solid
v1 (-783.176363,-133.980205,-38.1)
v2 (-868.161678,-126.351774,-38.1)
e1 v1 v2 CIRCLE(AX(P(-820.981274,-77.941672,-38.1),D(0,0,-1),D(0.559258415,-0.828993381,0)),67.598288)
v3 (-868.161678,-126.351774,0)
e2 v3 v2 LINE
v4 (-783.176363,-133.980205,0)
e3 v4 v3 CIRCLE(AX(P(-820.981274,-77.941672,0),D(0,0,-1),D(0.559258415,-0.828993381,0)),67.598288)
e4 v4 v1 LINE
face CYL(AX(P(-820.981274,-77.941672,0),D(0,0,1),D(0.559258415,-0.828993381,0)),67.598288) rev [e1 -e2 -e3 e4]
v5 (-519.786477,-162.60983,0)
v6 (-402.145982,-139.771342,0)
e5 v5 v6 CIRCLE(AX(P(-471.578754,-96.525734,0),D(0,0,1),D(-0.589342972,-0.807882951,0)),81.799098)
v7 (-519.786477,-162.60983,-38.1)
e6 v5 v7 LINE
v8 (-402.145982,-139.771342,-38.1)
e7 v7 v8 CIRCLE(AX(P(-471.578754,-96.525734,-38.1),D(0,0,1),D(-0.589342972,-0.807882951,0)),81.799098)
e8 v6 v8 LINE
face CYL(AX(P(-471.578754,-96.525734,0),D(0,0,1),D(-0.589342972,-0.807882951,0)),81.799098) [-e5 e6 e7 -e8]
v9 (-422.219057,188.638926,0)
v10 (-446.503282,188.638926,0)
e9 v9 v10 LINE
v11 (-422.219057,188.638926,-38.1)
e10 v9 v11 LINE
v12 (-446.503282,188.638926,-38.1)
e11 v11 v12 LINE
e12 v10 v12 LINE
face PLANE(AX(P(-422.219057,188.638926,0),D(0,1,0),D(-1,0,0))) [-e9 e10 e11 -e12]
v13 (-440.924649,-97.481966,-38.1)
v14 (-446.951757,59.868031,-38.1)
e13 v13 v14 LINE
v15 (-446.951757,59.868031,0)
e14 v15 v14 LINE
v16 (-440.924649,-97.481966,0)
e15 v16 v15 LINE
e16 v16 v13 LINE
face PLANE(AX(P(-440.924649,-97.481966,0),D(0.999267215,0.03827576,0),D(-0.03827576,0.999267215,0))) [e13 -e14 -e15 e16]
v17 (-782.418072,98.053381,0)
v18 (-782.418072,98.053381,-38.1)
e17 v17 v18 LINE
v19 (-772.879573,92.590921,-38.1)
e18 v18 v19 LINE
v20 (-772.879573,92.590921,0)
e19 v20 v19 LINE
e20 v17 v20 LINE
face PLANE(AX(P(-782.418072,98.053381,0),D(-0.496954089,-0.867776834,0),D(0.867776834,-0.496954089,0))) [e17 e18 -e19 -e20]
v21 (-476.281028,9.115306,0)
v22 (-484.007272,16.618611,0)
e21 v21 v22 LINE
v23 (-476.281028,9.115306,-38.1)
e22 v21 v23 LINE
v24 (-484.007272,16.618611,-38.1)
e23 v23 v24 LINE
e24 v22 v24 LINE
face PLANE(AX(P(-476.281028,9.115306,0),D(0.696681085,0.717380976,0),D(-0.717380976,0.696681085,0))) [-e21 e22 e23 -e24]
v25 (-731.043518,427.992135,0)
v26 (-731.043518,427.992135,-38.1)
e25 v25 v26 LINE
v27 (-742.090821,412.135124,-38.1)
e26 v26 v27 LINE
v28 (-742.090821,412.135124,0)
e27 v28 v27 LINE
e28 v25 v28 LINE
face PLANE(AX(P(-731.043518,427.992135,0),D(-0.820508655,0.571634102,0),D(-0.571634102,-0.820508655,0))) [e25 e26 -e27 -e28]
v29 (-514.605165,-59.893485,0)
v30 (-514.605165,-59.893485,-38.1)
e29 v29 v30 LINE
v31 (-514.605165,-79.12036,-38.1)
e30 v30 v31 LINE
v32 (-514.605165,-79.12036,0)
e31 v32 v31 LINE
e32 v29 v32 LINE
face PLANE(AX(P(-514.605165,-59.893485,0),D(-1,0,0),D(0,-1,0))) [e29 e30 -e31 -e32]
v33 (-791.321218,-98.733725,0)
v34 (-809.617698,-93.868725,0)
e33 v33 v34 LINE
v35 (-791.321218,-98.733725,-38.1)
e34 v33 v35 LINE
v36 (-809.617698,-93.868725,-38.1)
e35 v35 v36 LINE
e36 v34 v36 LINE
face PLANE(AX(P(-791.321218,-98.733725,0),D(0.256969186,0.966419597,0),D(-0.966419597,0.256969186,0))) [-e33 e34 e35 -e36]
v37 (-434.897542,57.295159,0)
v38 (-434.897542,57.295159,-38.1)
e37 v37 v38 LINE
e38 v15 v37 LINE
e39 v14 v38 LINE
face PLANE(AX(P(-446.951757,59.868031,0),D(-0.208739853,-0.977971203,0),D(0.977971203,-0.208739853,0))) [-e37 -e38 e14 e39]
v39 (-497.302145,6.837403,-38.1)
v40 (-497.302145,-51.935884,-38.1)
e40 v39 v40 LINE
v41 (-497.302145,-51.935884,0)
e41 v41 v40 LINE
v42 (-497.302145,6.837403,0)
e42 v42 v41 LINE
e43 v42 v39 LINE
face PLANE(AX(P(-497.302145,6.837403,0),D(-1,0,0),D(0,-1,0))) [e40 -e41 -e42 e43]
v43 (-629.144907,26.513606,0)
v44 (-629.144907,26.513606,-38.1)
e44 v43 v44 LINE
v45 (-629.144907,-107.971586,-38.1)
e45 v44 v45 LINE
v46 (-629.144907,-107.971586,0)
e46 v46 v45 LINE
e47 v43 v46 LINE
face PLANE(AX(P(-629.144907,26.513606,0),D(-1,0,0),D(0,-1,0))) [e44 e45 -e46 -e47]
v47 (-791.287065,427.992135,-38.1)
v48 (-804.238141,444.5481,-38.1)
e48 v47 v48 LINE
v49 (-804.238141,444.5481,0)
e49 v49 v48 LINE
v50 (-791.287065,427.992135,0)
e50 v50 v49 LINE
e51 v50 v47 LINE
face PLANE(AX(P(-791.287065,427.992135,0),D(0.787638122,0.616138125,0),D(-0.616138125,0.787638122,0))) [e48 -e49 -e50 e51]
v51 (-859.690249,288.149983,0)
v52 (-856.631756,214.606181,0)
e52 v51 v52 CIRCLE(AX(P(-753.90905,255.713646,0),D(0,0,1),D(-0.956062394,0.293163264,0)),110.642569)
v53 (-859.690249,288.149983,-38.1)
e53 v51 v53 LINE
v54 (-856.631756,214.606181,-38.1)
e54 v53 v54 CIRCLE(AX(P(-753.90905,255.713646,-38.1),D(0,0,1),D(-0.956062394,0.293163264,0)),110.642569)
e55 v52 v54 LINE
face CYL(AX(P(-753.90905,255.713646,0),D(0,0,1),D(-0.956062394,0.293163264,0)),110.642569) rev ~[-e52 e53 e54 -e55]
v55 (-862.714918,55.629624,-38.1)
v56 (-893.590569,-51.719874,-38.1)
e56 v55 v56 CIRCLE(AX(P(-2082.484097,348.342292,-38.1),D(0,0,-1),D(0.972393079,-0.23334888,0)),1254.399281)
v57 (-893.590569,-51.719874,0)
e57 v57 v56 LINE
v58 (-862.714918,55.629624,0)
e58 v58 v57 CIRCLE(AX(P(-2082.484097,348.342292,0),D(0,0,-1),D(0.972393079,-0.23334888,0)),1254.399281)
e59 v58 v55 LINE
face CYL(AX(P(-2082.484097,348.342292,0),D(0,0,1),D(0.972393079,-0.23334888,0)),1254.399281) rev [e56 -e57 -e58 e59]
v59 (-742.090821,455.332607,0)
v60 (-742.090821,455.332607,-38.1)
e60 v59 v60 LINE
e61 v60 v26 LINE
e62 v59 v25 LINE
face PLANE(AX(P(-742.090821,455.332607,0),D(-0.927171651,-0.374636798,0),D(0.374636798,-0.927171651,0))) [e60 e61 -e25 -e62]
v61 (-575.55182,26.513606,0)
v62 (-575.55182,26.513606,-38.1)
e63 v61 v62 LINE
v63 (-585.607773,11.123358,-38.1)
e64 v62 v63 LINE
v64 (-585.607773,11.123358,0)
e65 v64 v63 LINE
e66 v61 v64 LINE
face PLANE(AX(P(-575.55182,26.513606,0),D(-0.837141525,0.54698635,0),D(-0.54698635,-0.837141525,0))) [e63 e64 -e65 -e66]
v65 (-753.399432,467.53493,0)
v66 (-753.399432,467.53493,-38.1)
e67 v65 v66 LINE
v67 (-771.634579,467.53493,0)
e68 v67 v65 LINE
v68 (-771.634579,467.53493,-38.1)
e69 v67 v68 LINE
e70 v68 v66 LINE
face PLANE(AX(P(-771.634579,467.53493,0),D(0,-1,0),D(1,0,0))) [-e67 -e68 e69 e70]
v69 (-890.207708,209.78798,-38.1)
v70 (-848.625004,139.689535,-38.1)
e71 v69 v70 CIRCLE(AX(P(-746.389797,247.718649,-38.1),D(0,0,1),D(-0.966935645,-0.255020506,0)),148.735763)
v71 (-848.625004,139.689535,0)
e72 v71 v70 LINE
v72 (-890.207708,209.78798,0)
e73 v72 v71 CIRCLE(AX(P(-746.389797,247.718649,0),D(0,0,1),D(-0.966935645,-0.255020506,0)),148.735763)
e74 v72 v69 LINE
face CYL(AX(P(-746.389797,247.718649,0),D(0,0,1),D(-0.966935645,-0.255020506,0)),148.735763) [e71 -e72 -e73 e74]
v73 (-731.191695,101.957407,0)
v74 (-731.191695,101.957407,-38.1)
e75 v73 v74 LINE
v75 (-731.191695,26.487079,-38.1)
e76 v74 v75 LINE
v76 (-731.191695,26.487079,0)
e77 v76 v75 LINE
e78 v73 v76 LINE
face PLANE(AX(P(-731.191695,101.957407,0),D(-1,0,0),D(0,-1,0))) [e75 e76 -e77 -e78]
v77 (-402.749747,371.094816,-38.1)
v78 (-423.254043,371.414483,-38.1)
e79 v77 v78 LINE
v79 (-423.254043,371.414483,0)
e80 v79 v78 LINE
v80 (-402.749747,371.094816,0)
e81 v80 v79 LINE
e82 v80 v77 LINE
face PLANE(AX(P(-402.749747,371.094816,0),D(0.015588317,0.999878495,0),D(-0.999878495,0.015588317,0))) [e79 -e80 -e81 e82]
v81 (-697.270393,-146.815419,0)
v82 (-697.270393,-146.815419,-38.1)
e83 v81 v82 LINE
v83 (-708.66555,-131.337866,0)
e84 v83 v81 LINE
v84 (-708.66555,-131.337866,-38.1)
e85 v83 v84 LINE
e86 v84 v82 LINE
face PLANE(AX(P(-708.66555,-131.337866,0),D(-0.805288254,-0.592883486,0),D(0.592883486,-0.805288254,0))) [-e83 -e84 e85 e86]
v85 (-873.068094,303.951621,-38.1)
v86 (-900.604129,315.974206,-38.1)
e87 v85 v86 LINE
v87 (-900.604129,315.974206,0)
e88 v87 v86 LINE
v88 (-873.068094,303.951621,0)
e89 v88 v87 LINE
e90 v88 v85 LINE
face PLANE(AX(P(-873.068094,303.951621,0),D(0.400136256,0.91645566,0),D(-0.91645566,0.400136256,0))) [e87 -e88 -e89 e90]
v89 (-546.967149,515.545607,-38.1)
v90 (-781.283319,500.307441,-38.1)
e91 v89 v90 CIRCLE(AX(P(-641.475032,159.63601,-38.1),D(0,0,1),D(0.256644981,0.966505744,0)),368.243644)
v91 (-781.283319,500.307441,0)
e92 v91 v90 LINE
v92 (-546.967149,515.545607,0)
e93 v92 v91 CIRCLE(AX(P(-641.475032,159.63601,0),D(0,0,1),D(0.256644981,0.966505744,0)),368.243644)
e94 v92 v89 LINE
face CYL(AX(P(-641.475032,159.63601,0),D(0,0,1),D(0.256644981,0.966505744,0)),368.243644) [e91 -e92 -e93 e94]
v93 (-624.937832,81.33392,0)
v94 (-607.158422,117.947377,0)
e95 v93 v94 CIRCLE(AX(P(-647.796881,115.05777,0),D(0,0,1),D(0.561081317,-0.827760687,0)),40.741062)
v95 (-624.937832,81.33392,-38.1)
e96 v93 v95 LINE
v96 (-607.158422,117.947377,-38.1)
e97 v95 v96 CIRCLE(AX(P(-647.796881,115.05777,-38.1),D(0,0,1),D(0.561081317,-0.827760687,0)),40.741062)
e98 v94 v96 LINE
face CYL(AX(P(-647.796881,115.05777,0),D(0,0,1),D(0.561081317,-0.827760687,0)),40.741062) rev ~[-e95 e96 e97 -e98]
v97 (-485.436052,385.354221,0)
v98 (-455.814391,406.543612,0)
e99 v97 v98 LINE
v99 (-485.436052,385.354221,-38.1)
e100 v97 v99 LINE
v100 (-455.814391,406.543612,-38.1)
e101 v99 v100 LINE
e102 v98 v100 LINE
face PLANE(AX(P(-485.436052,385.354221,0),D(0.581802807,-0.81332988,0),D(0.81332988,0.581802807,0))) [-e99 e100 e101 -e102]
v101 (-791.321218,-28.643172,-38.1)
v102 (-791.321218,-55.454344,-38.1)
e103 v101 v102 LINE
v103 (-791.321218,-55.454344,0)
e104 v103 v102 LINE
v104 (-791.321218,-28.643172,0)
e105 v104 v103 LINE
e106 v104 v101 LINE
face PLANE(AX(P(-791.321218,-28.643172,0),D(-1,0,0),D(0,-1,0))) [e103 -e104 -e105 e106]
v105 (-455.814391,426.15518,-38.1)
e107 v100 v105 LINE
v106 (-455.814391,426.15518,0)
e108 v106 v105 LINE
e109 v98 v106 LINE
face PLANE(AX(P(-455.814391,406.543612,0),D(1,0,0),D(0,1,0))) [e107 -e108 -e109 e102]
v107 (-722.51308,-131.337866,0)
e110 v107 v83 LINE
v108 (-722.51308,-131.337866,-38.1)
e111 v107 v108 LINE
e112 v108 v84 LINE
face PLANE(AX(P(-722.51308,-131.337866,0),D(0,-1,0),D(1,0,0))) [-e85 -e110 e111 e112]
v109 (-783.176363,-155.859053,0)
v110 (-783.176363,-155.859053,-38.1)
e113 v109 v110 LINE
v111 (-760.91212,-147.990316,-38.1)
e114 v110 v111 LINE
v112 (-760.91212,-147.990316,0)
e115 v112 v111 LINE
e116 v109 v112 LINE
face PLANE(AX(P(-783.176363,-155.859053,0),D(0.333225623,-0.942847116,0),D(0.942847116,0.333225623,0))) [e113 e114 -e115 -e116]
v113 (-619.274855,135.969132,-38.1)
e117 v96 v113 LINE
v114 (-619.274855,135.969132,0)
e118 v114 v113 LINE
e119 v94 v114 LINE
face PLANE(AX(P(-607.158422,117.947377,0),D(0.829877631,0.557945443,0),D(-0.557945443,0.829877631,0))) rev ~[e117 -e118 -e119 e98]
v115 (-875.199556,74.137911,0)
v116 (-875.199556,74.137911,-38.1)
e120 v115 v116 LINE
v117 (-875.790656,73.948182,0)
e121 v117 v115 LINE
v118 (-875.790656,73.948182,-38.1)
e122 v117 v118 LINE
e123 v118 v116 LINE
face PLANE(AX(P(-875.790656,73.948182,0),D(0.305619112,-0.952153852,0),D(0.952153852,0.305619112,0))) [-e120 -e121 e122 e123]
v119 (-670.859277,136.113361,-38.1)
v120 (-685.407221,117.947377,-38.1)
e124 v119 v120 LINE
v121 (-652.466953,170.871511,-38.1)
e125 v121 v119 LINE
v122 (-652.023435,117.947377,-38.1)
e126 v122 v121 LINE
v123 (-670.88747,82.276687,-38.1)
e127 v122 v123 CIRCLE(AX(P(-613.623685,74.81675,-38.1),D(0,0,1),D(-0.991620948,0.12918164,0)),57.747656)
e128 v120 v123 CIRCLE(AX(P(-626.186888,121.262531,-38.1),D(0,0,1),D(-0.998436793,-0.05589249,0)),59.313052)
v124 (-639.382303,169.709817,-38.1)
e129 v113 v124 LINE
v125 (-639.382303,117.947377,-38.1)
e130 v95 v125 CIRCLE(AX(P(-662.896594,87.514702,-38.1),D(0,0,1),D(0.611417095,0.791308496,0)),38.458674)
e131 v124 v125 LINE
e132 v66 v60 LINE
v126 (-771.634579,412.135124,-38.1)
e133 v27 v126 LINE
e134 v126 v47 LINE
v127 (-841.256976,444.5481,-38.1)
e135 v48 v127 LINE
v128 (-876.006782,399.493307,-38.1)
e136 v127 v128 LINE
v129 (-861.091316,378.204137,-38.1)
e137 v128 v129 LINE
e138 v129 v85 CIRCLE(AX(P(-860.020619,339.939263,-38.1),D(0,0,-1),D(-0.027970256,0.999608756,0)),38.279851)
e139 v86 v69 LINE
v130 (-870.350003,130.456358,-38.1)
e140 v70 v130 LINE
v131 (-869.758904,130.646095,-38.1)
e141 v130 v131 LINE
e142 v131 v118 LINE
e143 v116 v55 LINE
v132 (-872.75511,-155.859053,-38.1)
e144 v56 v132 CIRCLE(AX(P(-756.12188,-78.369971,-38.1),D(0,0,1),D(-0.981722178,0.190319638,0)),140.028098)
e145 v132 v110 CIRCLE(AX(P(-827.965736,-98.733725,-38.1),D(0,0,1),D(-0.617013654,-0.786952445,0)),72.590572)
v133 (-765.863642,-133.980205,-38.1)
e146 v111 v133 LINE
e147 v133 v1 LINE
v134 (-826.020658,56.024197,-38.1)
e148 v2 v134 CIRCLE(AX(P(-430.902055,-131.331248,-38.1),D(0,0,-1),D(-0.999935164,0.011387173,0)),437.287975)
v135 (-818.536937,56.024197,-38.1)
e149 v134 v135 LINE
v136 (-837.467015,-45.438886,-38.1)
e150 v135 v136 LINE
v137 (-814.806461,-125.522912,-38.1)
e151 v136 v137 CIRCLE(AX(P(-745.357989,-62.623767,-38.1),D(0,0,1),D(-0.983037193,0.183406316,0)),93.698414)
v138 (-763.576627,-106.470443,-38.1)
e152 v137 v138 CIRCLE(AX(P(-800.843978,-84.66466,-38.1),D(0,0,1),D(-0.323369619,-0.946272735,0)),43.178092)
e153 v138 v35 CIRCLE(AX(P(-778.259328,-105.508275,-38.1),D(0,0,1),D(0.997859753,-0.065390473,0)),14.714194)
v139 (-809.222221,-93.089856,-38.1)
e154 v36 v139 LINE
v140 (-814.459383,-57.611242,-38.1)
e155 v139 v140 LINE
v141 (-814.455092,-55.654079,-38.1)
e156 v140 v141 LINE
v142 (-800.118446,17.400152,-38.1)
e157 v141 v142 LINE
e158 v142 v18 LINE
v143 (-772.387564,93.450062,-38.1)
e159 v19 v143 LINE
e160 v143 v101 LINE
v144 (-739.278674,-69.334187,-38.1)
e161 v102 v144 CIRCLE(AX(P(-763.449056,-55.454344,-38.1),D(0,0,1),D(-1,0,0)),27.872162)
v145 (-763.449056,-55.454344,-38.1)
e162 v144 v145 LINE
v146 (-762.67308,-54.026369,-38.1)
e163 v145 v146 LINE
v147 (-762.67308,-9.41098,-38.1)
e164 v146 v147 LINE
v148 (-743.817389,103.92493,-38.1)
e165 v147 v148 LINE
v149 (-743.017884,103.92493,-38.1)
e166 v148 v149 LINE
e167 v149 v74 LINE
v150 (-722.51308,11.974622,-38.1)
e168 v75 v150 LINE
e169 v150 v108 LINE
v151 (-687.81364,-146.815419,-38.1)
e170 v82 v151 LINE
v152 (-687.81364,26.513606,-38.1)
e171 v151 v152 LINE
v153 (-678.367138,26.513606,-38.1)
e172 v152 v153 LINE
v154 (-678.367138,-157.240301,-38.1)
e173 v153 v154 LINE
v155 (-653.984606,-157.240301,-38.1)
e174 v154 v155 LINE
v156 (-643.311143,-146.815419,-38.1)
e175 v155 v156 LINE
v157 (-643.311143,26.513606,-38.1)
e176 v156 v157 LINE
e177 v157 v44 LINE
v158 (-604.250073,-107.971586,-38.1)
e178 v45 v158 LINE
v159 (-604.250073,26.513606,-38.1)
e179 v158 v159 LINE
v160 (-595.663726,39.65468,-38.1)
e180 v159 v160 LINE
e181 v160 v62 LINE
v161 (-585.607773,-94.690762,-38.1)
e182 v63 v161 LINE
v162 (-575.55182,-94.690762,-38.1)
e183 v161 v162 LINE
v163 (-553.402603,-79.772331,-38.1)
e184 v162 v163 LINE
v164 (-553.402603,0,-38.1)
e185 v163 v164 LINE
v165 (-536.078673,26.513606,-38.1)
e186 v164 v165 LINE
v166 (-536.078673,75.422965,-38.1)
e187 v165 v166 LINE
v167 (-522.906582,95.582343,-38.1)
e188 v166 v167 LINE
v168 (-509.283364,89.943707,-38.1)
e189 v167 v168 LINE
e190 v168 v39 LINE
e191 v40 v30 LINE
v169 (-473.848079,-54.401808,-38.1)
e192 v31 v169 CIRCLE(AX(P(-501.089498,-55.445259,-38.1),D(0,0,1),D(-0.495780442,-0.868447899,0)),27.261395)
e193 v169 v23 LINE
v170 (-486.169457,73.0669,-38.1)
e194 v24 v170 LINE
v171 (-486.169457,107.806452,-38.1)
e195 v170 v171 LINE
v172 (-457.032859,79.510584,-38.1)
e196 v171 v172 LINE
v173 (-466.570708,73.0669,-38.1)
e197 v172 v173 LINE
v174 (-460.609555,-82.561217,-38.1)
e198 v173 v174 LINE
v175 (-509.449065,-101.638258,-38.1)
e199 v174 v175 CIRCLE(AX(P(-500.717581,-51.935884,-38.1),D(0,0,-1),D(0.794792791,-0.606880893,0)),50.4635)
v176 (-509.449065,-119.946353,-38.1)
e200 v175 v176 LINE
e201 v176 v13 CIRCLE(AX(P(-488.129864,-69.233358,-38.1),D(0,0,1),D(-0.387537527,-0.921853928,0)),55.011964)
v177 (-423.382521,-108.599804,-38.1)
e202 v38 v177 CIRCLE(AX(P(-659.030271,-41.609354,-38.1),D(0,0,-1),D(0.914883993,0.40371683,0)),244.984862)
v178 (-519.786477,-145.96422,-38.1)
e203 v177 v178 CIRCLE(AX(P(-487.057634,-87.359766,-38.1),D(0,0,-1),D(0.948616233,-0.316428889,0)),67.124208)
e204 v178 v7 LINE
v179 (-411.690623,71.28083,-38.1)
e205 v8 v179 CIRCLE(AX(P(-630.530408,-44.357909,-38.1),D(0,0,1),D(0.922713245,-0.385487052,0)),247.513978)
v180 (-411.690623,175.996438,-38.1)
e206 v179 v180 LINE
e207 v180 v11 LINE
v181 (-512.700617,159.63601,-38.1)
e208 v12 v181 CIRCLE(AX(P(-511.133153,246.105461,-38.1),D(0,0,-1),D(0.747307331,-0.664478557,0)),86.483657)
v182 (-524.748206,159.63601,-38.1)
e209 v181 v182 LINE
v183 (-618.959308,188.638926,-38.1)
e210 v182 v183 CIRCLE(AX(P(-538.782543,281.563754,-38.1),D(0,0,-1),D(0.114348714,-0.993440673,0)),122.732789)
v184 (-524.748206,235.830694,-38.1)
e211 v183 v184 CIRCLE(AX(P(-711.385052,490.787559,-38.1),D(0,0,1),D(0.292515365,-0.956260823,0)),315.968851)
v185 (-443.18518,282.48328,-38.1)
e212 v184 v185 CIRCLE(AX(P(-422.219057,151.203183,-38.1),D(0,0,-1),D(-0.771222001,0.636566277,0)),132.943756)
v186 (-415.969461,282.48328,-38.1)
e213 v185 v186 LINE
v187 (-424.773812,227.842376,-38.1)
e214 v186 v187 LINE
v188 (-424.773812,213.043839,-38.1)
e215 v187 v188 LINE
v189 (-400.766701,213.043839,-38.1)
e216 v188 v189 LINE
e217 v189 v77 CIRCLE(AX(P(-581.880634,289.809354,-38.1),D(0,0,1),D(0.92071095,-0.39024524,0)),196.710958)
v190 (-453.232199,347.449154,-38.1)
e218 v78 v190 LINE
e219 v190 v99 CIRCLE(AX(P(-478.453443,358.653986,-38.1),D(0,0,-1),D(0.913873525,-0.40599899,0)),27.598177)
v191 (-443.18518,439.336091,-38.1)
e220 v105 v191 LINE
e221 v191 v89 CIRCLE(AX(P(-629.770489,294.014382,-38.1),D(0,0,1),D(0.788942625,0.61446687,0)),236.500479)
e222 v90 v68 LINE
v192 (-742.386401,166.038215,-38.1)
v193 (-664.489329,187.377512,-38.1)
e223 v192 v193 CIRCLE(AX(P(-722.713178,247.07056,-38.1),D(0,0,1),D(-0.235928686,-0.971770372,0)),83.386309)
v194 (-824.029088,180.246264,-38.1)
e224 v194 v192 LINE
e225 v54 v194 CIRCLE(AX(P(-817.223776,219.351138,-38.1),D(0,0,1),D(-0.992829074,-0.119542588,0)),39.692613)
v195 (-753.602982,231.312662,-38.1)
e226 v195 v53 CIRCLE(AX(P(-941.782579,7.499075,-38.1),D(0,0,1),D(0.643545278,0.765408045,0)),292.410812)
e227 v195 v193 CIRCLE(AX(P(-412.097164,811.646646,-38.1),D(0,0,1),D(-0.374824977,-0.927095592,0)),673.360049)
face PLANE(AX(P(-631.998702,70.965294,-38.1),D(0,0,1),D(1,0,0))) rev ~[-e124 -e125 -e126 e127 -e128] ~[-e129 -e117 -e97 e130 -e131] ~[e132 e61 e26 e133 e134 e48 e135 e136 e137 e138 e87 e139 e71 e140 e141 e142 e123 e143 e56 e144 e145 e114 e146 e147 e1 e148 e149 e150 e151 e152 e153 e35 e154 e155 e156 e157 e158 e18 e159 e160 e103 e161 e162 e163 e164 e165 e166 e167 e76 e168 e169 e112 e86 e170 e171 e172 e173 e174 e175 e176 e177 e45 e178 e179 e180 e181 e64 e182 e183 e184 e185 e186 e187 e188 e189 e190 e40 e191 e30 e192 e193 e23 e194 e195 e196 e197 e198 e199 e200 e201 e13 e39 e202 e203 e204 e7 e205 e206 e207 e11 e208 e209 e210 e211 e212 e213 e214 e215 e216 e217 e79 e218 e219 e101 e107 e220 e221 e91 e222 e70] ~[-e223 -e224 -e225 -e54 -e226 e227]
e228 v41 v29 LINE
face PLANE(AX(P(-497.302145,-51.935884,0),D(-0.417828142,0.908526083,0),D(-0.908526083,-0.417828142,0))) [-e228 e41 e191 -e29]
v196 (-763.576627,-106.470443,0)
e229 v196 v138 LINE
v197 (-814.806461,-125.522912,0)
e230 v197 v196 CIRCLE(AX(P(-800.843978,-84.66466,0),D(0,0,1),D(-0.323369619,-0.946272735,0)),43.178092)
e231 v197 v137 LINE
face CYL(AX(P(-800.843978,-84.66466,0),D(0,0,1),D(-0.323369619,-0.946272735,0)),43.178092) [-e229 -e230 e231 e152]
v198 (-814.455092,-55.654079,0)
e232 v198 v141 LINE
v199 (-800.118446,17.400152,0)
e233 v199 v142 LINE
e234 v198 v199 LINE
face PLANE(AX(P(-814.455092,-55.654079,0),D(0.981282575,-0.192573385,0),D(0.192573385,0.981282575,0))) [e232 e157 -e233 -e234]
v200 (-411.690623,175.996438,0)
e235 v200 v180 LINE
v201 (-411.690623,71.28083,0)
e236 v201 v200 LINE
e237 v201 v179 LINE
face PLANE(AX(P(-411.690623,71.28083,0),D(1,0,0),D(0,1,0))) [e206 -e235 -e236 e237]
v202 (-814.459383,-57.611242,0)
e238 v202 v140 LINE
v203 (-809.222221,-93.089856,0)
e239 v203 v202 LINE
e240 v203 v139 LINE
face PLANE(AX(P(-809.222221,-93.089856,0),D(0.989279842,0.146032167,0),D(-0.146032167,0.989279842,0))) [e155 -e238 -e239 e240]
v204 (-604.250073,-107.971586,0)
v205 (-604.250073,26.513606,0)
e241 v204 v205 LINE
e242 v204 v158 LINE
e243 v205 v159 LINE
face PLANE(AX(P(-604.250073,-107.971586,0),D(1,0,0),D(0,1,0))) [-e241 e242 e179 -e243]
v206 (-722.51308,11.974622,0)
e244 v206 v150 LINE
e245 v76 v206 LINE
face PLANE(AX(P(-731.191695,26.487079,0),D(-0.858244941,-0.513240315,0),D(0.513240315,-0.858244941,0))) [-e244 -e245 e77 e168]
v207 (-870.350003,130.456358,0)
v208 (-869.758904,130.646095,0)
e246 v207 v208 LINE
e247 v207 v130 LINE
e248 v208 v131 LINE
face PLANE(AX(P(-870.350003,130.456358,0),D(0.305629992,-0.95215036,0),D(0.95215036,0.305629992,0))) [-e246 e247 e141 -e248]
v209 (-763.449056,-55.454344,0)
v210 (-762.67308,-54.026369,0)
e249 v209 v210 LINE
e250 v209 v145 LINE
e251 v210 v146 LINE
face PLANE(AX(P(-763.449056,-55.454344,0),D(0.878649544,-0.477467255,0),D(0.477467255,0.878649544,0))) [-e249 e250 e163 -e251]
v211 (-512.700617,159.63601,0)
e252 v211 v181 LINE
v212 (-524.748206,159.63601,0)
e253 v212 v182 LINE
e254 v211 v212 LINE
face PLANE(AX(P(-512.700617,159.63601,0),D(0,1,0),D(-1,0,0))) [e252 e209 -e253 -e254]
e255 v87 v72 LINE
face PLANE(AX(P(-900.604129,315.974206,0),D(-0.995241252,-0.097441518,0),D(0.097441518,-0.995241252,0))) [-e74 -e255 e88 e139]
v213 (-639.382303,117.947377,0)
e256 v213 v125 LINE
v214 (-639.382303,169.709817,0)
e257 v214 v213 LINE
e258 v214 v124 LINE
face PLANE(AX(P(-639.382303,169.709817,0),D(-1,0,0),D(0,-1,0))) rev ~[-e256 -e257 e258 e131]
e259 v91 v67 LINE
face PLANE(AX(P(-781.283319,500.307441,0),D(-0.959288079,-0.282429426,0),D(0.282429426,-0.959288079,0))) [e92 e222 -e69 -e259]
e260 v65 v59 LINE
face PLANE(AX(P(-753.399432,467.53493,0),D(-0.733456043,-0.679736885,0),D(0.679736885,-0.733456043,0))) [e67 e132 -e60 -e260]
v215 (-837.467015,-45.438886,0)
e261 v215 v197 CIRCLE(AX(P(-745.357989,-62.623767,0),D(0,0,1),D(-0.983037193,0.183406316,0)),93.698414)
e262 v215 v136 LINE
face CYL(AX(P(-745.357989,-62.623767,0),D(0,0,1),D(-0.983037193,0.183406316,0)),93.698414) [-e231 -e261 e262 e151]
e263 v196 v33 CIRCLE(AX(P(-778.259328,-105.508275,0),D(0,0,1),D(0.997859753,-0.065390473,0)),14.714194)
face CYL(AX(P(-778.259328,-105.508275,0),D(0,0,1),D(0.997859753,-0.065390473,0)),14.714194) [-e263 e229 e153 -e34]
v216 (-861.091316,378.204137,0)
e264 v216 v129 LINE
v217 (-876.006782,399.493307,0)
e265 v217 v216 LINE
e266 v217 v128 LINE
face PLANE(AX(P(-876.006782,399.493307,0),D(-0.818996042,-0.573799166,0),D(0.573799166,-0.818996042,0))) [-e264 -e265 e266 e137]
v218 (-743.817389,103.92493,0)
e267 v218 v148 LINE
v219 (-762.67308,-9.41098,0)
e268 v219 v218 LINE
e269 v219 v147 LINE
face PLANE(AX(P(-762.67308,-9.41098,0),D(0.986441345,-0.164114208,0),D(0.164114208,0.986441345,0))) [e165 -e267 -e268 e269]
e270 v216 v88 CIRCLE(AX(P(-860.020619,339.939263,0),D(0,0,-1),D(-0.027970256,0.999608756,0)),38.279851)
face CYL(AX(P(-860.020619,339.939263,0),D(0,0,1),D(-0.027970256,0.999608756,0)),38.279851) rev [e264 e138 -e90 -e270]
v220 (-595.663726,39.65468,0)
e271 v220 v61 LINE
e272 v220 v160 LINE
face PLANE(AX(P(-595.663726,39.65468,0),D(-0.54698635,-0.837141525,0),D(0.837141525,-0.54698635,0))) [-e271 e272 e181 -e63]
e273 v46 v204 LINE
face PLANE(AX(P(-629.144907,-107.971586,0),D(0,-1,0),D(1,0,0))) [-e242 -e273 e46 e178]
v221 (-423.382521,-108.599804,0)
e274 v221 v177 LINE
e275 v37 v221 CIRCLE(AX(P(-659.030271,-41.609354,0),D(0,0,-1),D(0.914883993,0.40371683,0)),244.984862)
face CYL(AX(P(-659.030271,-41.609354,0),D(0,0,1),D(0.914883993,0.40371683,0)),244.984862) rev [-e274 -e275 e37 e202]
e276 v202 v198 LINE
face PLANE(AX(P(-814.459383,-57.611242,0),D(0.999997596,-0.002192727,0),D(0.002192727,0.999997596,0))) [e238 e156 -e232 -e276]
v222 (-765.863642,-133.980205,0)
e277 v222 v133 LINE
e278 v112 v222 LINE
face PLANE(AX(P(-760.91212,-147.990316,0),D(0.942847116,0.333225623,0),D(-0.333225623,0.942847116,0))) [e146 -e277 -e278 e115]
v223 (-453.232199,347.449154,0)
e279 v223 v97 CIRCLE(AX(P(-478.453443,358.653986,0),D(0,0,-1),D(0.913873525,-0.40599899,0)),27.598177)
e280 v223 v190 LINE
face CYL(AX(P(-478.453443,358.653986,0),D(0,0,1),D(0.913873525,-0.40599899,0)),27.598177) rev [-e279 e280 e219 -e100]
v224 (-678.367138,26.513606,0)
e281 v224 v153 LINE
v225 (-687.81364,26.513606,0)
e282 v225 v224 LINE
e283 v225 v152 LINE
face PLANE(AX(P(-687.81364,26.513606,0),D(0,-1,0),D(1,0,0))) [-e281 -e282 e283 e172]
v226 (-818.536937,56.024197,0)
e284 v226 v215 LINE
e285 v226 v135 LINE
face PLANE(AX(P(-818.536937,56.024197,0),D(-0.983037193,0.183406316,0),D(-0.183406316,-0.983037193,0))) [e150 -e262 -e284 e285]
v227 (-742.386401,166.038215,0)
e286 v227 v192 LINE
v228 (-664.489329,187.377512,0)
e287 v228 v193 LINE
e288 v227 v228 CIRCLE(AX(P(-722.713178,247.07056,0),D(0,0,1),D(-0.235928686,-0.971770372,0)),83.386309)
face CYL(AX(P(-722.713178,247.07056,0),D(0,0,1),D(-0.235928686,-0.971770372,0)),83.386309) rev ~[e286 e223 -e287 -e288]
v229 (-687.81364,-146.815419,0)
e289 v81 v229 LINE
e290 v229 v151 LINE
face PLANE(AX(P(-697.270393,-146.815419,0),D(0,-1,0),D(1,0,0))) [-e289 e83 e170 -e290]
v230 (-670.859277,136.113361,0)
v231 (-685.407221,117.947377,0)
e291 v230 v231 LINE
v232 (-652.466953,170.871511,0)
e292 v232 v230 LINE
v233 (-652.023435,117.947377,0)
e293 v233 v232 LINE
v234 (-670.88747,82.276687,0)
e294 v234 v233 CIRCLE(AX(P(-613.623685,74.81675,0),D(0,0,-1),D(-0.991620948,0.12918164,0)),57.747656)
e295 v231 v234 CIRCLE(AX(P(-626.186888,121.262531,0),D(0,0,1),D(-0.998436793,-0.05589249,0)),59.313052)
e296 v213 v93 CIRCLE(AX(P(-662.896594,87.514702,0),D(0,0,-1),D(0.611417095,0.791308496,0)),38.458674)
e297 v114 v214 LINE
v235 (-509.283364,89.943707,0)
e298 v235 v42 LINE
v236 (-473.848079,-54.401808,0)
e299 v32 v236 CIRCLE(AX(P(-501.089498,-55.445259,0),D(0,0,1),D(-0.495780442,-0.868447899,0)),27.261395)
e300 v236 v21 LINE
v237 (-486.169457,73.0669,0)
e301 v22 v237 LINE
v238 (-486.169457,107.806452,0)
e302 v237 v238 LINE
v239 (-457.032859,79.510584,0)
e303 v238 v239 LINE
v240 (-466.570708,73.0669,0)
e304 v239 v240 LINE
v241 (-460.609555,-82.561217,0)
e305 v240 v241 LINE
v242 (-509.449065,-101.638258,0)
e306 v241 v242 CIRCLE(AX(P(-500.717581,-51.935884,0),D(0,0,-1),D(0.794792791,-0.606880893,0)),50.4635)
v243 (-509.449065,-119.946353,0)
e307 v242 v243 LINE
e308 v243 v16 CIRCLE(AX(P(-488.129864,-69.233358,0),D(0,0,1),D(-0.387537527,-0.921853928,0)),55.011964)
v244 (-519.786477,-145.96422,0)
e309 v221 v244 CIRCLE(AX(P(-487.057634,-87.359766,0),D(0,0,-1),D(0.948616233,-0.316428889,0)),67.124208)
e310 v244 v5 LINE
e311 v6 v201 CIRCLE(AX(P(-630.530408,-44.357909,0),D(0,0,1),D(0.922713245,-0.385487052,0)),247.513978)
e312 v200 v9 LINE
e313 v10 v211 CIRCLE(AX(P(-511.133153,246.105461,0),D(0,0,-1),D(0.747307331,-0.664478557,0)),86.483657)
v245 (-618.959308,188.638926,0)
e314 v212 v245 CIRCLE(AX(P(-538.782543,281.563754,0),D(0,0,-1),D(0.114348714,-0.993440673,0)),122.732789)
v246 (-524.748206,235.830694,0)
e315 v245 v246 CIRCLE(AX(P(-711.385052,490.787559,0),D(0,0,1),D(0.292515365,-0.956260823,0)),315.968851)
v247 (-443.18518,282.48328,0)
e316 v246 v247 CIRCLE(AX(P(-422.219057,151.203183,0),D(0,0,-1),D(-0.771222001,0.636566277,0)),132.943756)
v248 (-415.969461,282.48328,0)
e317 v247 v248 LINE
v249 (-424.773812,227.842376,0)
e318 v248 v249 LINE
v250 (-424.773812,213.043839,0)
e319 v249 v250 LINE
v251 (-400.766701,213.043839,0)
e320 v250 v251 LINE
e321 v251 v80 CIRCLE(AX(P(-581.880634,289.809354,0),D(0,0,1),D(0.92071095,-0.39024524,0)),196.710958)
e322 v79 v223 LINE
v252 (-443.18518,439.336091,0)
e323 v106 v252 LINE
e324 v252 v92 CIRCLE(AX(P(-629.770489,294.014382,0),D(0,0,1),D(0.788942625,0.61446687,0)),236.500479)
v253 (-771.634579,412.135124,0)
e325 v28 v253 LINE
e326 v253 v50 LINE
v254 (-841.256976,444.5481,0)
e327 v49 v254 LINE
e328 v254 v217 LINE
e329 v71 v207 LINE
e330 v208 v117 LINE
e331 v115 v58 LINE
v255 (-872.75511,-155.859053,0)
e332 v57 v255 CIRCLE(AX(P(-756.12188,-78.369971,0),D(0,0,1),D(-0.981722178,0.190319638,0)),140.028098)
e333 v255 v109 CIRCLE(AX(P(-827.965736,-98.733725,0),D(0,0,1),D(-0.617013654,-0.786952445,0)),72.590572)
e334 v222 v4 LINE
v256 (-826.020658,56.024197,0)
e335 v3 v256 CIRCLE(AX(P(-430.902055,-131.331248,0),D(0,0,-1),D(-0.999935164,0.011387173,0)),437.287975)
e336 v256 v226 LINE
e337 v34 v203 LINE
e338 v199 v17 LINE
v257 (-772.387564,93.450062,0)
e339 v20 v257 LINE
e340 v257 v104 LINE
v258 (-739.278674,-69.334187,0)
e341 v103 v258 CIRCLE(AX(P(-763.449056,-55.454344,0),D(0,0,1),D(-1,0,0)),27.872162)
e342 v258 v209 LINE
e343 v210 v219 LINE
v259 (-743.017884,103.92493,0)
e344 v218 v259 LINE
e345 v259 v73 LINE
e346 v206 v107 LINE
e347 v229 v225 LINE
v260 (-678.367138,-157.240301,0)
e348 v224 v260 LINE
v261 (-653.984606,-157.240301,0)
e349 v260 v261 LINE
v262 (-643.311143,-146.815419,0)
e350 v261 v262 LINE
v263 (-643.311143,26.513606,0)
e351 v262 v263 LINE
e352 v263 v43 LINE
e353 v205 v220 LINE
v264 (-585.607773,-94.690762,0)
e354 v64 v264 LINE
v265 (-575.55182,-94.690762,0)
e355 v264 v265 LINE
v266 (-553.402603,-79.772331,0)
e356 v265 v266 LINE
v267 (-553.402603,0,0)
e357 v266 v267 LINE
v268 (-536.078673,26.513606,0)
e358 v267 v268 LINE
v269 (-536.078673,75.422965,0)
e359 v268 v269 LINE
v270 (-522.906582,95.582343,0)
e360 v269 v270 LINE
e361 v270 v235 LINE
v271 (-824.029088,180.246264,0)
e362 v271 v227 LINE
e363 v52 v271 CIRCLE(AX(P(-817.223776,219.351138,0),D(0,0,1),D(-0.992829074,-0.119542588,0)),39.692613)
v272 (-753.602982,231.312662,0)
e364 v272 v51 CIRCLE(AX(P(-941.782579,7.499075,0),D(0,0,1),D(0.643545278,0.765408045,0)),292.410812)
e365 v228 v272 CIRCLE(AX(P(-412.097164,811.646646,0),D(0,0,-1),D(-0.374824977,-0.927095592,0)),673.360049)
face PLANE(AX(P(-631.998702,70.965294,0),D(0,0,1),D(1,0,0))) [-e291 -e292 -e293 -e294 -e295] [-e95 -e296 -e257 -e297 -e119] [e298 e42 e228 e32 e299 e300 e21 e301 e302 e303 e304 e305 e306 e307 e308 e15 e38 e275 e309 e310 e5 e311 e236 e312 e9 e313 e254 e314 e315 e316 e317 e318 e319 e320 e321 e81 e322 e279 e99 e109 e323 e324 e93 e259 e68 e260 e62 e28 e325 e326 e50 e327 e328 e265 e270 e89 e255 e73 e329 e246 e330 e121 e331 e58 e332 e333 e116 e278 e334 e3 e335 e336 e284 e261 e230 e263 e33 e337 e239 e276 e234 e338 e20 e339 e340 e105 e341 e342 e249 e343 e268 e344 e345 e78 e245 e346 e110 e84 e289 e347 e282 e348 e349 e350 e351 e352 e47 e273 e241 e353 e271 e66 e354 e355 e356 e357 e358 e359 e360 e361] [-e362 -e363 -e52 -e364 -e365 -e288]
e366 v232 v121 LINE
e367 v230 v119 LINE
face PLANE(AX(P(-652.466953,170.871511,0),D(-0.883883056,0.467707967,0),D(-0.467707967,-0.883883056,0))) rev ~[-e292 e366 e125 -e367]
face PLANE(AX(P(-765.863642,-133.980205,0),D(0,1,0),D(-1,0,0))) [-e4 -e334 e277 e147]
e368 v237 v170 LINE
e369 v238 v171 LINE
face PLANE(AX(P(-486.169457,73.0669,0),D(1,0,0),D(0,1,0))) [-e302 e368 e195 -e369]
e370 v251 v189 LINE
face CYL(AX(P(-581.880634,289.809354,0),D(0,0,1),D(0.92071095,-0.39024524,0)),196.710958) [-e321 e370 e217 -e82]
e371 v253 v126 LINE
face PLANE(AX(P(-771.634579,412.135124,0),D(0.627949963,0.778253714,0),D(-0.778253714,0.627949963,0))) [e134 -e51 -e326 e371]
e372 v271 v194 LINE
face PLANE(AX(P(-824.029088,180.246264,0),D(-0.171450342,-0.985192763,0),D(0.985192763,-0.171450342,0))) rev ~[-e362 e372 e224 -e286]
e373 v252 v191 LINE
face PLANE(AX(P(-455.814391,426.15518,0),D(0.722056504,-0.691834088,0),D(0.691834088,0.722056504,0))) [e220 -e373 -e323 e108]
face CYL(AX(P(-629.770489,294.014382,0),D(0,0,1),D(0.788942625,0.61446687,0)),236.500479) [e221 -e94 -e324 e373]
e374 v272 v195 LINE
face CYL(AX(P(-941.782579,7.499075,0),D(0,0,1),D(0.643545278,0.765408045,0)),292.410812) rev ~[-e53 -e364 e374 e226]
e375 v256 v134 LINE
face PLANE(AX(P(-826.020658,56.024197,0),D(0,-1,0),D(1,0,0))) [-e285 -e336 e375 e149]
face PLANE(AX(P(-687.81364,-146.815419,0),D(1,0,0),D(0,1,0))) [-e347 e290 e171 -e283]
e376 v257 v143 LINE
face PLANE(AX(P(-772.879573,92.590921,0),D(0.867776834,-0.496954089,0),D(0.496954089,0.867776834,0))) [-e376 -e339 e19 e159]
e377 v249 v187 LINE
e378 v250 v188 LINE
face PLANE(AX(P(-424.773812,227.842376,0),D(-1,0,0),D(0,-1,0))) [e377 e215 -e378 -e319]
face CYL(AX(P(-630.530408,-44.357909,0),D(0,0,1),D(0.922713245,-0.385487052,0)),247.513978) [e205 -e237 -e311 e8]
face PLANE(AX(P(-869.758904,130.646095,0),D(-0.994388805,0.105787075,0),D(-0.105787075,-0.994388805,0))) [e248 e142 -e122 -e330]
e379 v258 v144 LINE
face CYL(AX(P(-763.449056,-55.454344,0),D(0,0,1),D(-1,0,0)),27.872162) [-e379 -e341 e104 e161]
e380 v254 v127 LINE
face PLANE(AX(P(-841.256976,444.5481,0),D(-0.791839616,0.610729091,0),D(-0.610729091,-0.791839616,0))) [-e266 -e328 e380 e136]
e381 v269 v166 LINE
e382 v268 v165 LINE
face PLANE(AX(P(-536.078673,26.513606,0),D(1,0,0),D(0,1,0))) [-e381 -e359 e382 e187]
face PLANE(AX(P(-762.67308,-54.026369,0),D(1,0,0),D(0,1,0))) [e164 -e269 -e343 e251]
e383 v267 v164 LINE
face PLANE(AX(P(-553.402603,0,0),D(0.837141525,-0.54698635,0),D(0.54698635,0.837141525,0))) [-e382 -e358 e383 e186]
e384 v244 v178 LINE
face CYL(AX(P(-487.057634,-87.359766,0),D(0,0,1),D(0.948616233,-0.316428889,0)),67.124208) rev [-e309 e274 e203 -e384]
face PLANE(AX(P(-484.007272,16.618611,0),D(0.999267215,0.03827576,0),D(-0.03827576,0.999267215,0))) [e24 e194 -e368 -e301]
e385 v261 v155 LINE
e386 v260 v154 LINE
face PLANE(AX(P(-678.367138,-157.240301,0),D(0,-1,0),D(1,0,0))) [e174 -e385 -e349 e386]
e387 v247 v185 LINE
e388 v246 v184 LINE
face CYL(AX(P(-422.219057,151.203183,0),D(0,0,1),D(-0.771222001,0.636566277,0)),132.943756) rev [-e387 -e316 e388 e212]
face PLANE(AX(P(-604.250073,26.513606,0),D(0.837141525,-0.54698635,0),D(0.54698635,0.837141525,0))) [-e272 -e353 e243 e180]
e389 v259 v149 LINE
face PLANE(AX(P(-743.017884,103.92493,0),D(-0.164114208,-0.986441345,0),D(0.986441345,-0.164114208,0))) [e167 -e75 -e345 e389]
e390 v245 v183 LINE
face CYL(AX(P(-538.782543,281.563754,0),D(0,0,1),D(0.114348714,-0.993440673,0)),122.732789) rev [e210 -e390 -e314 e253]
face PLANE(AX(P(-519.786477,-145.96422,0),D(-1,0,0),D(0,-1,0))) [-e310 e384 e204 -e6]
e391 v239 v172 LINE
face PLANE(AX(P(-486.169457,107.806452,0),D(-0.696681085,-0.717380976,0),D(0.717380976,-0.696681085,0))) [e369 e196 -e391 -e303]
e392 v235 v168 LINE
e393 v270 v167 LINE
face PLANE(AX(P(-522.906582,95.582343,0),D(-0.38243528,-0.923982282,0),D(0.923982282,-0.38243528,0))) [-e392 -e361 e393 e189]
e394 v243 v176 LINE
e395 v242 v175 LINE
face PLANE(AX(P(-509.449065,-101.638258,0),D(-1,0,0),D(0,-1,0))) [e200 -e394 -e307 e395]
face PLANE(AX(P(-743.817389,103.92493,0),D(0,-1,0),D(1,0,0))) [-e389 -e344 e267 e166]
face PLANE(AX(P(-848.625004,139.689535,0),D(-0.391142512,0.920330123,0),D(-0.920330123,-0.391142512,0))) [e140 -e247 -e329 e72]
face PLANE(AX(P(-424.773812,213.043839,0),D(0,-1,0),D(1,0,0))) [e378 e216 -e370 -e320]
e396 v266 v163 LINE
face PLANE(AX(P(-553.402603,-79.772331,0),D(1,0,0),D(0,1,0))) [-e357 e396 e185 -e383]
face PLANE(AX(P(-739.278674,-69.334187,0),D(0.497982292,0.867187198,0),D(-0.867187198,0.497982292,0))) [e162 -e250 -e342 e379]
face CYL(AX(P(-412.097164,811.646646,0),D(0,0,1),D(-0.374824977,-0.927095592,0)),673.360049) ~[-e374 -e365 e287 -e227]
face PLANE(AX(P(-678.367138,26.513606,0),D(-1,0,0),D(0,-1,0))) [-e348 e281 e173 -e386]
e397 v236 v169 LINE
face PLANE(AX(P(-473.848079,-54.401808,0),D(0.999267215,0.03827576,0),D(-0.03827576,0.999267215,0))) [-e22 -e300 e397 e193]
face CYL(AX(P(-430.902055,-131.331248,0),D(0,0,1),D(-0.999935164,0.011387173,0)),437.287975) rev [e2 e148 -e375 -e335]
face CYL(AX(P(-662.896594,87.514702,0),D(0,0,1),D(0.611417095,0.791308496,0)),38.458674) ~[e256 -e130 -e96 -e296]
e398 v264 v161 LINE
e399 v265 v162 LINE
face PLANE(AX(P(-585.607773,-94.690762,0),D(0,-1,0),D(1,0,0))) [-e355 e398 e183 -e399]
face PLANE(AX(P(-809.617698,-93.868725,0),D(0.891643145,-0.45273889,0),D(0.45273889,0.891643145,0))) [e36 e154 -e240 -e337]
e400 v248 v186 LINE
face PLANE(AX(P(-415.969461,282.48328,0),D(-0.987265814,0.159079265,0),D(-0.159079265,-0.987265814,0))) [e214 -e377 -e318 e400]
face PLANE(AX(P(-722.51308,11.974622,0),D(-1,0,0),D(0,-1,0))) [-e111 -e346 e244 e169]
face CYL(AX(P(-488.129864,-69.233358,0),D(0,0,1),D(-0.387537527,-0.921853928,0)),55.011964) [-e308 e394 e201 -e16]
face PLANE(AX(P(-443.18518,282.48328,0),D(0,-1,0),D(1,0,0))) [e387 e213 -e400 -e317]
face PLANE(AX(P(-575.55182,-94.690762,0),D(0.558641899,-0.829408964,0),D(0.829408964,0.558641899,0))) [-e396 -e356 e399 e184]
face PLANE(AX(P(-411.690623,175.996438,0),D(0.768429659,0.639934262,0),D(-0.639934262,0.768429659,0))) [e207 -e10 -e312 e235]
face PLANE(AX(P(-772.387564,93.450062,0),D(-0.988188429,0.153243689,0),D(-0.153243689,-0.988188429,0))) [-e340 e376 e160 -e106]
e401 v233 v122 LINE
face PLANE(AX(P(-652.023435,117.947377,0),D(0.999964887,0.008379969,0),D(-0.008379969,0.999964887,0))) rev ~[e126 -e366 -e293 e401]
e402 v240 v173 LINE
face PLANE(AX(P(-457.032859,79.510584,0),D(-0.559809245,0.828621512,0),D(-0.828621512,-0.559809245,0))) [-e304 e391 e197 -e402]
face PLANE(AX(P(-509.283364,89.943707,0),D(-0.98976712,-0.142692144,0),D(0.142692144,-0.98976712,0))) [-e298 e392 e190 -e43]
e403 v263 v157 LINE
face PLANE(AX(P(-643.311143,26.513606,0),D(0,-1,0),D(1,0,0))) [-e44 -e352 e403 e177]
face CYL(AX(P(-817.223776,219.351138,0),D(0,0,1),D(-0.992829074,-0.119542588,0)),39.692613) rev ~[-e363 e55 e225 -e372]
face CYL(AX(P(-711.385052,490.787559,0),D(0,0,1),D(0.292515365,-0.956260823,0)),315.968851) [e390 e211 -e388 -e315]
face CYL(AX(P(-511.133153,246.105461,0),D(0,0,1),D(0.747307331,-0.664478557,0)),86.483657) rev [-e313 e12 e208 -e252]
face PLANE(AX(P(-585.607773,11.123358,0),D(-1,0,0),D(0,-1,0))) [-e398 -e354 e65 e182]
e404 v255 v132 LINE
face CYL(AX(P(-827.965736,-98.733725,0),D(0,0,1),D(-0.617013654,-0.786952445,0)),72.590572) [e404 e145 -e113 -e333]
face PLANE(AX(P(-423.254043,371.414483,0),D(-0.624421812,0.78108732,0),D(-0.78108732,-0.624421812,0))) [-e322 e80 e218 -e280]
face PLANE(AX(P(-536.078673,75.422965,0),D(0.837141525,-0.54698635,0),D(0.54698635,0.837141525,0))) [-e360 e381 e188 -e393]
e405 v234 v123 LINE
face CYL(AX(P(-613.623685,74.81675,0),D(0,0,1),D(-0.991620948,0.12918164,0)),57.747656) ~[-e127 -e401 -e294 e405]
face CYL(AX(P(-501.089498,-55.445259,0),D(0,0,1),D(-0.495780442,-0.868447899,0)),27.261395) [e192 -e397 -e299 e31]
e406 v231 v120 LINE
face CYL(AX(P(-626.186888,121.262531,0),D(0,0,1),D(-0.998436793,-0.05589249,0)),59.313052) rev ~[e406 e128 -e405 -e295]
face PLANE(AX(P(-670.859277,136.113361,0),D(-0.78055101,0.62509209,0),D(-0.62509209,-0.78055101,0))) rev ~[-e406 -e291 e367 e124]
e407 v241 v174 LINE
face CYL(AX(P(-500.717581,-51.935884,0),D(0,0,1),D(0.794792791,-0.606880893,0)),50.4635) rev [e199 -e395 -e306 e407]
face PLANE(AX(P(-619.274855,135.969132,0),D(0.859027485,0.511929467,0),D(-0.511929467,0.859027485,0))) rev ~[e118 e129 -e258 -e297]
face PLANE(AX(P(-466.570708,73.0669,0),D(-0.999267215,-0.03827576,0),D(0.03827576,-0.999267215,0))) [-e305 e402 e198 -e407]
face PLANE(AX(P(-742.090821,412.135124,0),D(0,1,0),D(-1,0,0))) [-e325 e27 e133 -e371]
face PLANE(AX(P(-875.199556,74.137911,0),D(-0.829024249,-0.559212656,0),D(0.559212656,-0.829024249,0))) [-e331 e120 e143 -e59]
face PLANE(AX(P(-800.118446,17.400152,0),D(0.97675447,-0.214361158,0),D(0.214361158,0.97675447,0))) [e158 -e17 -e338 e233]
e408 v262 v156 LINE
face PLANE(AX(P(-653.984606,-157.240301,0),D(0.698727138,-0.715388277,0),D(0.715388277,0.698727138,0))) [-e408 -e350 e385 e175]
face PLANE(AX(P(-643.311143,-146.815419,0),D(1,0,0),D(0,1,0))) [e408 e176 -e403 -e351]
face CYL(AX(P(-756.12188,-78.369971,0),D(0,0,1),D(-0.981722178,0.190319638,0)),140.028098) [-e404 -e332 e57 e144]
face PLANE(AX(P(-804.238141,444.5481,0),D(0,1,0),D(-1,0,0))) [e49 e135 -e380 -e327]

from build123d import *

# Parameters (mm, degrees)
F1_DEPTH = 38.1
F3_DEPTH = 127


with BuildPart() as f1:
    # F0 (on Top) → F1 (new body)
    with BuildSketch(Plane.XY):
        with BuildLine():
            Line((-731.1916947365, 26.4870785177), (-722.5130796432, 11.9746224955))
            Line((-722.5130796432, 11.9746224955), (-722.5130796432, -131.3378661871))
            Line((-722.5130796432, -131.3378661871), (-708.6655497551, -131.3378661871))
            Line((-708.6655497551, -131.3378661871), (-697.2703933716, -146.8154191971))
            Line((-697.2703933716, -146.8154191971), (-687.8136396408, -146.8154191971))
            Line((-687.8136396408, -146.8154191971), (-687.8136396408, 12.0345707983))
            Line((-687.8136396408, 12.0345707983), (-687.8136396408, 26.5136063099))
            Line((-687.8136396408, 26.5136063099), (-678.3671379089, 26.5136063099))
            Line((-678.3671379089, 26.5136063099), (-678.3671379089, -157.2403013706))
            Line((-678.3671379089, -157.2403013706), (-653.984606266, -157.2403013706))
            Line((-653.984606266, -157.2403013706), (-643.3111429214, -146.8154191971))
            Line((-643.3111429214, -146.8154191971), (-643.3111429214, 26.5136063099))
            Line((-643.3111429214, 26.5136063099), (-629.1449069977, 26.5136063099))
            Line((-629.1449069977, 26.5136063099), (-629.1449069977, -107.971586287))
            Line((-629.1449069977, -107.971586287), (-618.0527210236, -107.971586287))
            Line((-618.0527210236, -107.971586287), (-604.2500734329, -107.971586287))
            Line((-604.2500734329, -107.971586287), (-604.2500734329, 26.5136063099))
            Line((-604.2500734329, 26.5136063099), (-595.6637263298, 39.6546795964))
            Line((-595.6637263298, 39.6546795964), (-575.5518201783, 26.5136063099))
            Line((-575.5518201783, 26.5136063099), (-585.6077732541, 11.1233577272))
            Line((-585.6077732541, 11.1233577272), (-585.6077732541, -94.6907624602))
            Line((-585.6077732541, -94.6907624602), (-575.5518201783, -94.6907624602))
            Line((-575.5518201783, -94.6907624602), (-553.4026026726, -79.7723308206))
            Line((-553.4026026726, -79.7723308206), (-553.4026026726, 0))
            Line((-553.4026026726, 0), (-536.0786732059, 26.5136063099))
            Line((-536.0786732059, 26.5136063099), (-536.0786732059, 75.4229649901))
            Line((-536.0786732059, 75.4229649901), (-522.9065822192, 95.5823425361))
            Line((-522.9065822192, 95.5823425361), (-509.2833638191, 89.9437069893))
            Line((-509.2833638191, 89.9437069893), (-497.3021447659, 6.8374029361))
            Line((-497.3021447659, 6.8374029361), (-497.3021447659, -51.9358835856))
            Line((-497.3021447659, -51.9358835856), (-514.6051645279, -59.8934851587))
            Line((-514.6051645279, -59.8934851587), (-514.6051645279, -79.1203603148))
            ThreePointArc((-514.6051645279, -79.1203603148), (-486.952639228, -78.7547612417), (-473.848079238, -54.4018081228))
            Line((-473.848079238, -54.4018081228), (-476.2810278798, 9.1153058296))
            Line((-476.2810278798, 9.1153058296), (-484.007271846, 16.6186105041))
            Line((-484.007271846, 16.6186105041), (-486.1694574356, 73.0668996781))
            Line((-486.1694574356, 73.0668996781), (-486.1694574356, 107.8064516187))
            Line((-486.1694574356, 107.8064516187), (-457.0328593254, 79.5105844736))
            Line((-457.0328593254, 79.5105844736), (-466.5707079503, 73.0668996781))
            Line((-466.5707079503, 73.0668996781), (-465.425214794, 43.1614515779))
            Line((-465.425214794, 43.1614515779), (-460.6095552444, -82.5612172484))
            ThreePointArc((-460.6095552444, -82.5612172484), (-482.3571557828, -98.9407724061), (-509.4490647316, -101.6382575035))
            Line((-509.4490647316, -101.6382575035), (-509.4490647316, -119.9463531375))
            ThreePointArc((-509.4490647316, -119.9463531375), (-470.9926647108, -121.5079462188), (-440.9246492968, -97.4819660187))
            Line((-440.9246492968, -97.4819660187), (-446.9517565937, 59.8680307725))
            Line((-446.9517565937, 59.8680307725), (-434.8975419998, 57.2951585054))
            ThreePointArc((-434.8975419998, 57.2951585054), (-414.6334482613, -24.645398955), (-423.3825206757, -108.5998043418))
            ThreePointArc((-423.3825206757, -108.5998043418), (-462.7997938571, -149.9474360714), (-519.7864770889, -145.9642201662))
            Line((-519.7864770889, -145.9642201662), (-519.7864770889, -162.6098304987))
            ThreePointArc((-519.7864770889, -162.6098304987), (-455.9895007094, -176.8255945828), (-402.1459817886, -139.7713422775))
            ThreePointArc((-402.1459817886, -139.7713422775), (-383.2691520577, -33.1757452244), (-411.6906225681, 71.2808296084))
            Line((-411.6906225681, 71.2808296084), (-411.6906225681, 104.6967282891))
            Line((-411.6906225681, 104.6967282891), (-411.6906225681, 128.3455342054))
            Line((-411.6906225681, 128.3455342054), (-411.6906225681, 175.9964376688))
            Line((-411.6906225681, 175.9964376688), (-422.219056836, 188.6389255524))
            Line((-422.219056836, 188.6389255524), (-446.5032815933, 188.6389255524))
            ThreePointArc((-446.5032815933, 188.6389255524), (-476.4271149395, 166.8911070934), (-512.7006173134, 159.6360098933))
            Line((-512.7006173134, 159.6360098933), (-524.7482061386, 159.6360098933))
            ThreePointArc((-524.7482061386, 159.6360098933), (-574.8934480872, 164.2635413218), (-618.9593076706, 188.6389255524))
            ThreePointArc((-618.9593076706, 188.6389255524), (-569.8726918497, 208.2799185923), (-524.7482061386, 235.830694437))
            ThreePointArc((-524.7482061386, 235.830694437), (-488.2257726665, 266.6031639409), (-443.1851804256, 282.483279705))
            Line((-443.1851804256, 282.483279705), (-415.9694612026, 282.483279705))
            Line((-415.9694612026, 282.483279705), (-424.773812294, 227.8423756361))
            Line((-424.773812294, 227.8423756361), (-424.773812294, 213.0438387394))
            Line((-424.773812294, 213.0438387394), (-400.7667005062, 213.0438387394))
            ThreePointArc((-400.7667005062, 213.0438387394), (-385.1851571559, 292.2772677462), (-402.749746719, 371.0948162924))
            Line((-402.749746719, 371.0948162924), (-423.2540428638, 371.4144825935))
            Line((-423.2540428638, 371.4144825935), (-453.2321989536, 347.4491536617))
            ThreePointArc((-453.2321989536, 347.4491536617), (-499.4858098016, 340.785048544), (-485.436052084, 385.3542208672))
            Line((-485.436052084, 385.3542208672), (-455.8143913746, 406.5436124802))
            Line((-455.8143913746, 406.5436124802), (-455.8143913746, 426.155179739))
            Line((-455.8143913746, 426.155179739), (-443.1851804256, 439.33609128))
            ThreePointArc((-443.1851804256, 439.33609128), (-489.7900132944, 484.6395194203), (-546.9671487808, 515.5456066132))
            ThreePointArc((-546.9671487808, 515.5456066132), (-665.3723554836, 527.1034219229), (-781.2833189964, 500.3074407578))
            Line((-781.2833189964, 500.3074407578), (-771.6345787048, 467.5349295139))
            Line((-771.6345787048, 467.5349295139), (-753.3994317055, 467.5349295139))
            Line((-753.3994317055, 467.5349295139), (-742.0908212662, 455.3326070309))
            Line((-742.0908212662, 455.3326070309), (-731.0435175896, 427.9921352863))
            Line((-731.0435175896, 427.9921352863), (-742.0908212662, 412.1351242065))
            Line((-742.0908212662, 412.1351242065), (-771.6345787048, 412.1351242065))
            Line((-771.6345787048, 412.1351242065), (-791.2870645523, 427.9921352863))
            Line((-791.2870645523, 427.9921352863), (-804.238140583, 444.5481002331))
            Line((-804.238140583, 444.5481002331), (-841.2569761276, 444.5481002331))
            Line((-841.2569761276, 444.5481002331), (-876.0067820549, 399.4933068752))
            Line((-876.0067820549, 399.4933068752), (-861.0913157463, 378.2041370869))
            ThreePointArc((-861.0913157463, 378.2041370869), (-822.2292208688, 333.8435879914), (-873.0680942535, 303.9516210556))
            Line((-873.0680942535, 303.9516210556), (-900.6041288376, 315.9742057323))
            Line((-900.6041288376, 315.9742057323), (-890.2077078819, 209.787979722))
            ThreePointArc((-890.2077078819, 209.787979722), (-874.3115787114, 171.8348898736), (-848.6250042915, 139.6895349026))
            Line((-848.6250042915, 139.6895349026), (-870.3500032425, 130.4563581944))
            Line((-870.3500032425, 130.4563581944), (-869.7589039803, 130.6460946798))
            Line((-869.7589039803, 130.6460946798), (-875.7906556129, 73.9481821656))
            Line((-875.7906556129, 73.9481821656), (-875.1995563507, 74.1379112005))
            Line((-875.1995563507, 74.1379112005), (-862.7149177225, 55.6296244927))
            ThreePointArc((-862.7149177225, 55.6296244927), (-876.9572464178, 1.6110286224), (-893.5905694962, -51.7198741436))
            ThreePointArc((-893.5905694962, -51.7198741436), (-893.4287937553, -105.8414051941), (-872.7551102638, -155.8590531349))
            ThreePointArc((-872.7551102638, -155.8590531349), (-827.9657363892, -171.324296948), (-783.1763625145, -155.8590531349))
            Line((-783.1763625145, -155.8590531349), (-760.9121203423, -147.9903161526))
            Line((-760.9121203423, -147.9903161526), (-765.8636419713, -133.9802053917))
            Line((-765.8636419713, -133.9802053917), (-783.1763625145, -133.9802053917))
            ThreePointArc((-783.1763625145, -133.9802053917), (-827.0247173917, -145.269269111), (-868.1616783142, -126.3517737389))
            ThreePointArc((-868.1616783142, -126.3517737389), (-856.9638188857, -32.8825469526), (-826.0206580162, 56.024197489))
            Line((-826.0206580162, 56.024197489), (-818.5369372368, 56.024197489))
            Line((-818.5369372368, 56.024197489), (-837.4670147896, -45.4388856888))
            ThreePointArc((-837.4670147896, -45.4388856888), (-835.5165665415, -88.1350122498), (-814.8064613342, -125.5229115486))
            ThreePointArc((-814.8064613342, -125.5229115486), (-785.7931191237, -125.1346402811), (-763.5766267776, -106.4704433084))
            ThreePointArc((-763.5766267776, -106.4704433084), (-774.3069923685, -91.3348306482), (-791.3212180138, -98.7337252954))
            Line((-791.3212180138, -98.7337252954), (-809.6176981926, -93.8687250018))
            Line((-809.6176981926, -93.8687250018), (-809.2222213745, -93.0898562074))
            Line((-809.2222213745, -93.0898562074), (-814.4593834877, -57.6112419367))
            Line((-814.4593834877, -57.6112419367), (-814.4550919533, -55.654078722))
            Line((-814.4550919533, -55.654078722), (-800.1184463501, 17.40015205))
            Line((-800.1184463501, 17.40015205), (-782.4180722237, 98.053380847))
            Line((-782.4180722237, 98.053380847), (-772.8795728383, 92.5909208144))
            Line((-772.8795728383, 92.5909208144), (-772.3875641823, 93.4500619769))
            Line((-772.3875641823, 93.4500619769), (-791.3212180138, -28.6431722343))
            Line((-791.3212180138, -28.6431722343), (-791.3212180138, -55.4543435574))
            ThreePointArc((-791.3212180138, -55.4543435574), (-770.63155599, -82.3851642727), (-739.2786741257, -69.3341866136))
            Line((-739.2786741257, -69.3341866136), (-763.4490561163, -55.4543435574))
            Line((-763.4490561163, -55.4543435574), (-762.6730799675, -54.0263690054))
            Line((-762.6730799675, -54.0263690054), (-762.6730799675, -9.4109801576))
            Line((-762.6730799675, -9.4109801576), (-743.8173890114, 103.9249300957))
            Line((-743.8173890114, 103.9249300957), (-743.0178838831, 103.9249300957))
            Line((-743.0178838831, 103.9249300957), (-731.1916947365, 101.9574074699))
            Line((-731.1916947365, 101.9574074699), (-731.1916947365, 26.4870785177))
        make_face()
    extrude(amount=-F1_DEPTH)


with BuildPart() as f3:
    # F2 (on Top) → F3 (new body)
    with BuildSketch(Plane.XY):
        with BuildLine():
            ThreePointArc((-664.4893288612, 187.377512455), (-709.8576008155, 207.6992325151), (-753.6029815674, 231.3126623631))
            ThreePointArc((-753.6029815674, 231.3126623631), (-803.6907655479, 265.2484372978), (-859.6902489662, 288.1499826908))
            ThreePointArc((-859.6902489662, 288.1499826908), (-864.4560638647, 251.1162867025), (-856.6317558289, 214.6061807871))
            ThreePointArc((-856.6317558289, 214.6061807871), (-846.0173180018, 192.0301678032), (-824.0290880203, 180.2462637424))
            Line((-824.0290880203, 180.2462637424), (-742.3864006996, 166.0382151604))
            ThreePointArc((-742.3864006996, 166.0382151604), (-700.6818571145, 166.6473203806), (-664.4893288612, 187.377512455))
        make_face()
    extrude(amount=-F3_DEPTH)


with BuildPart() as f3b:
    # F2 (on Top) → F3, piece 2 (new body)
    with BuildSketch(Plane.XY):
        with BuildLine():
            Line((-652.023434639, 117.9473772645), (-652.4669528008, 170.8715111017))
            Line((-652.4669528008, 170.8715111017), (-670.8592772484, 136.1133605242))
            Line((-670.8592772484, 136.1133605242), (-685.4072213173, 117.9473772645))
            ThreePointArc((-685.4072213173, 117.9473772645), (-681.1231120294, 98.9007467767), (-670.8874702454, 82.276687026))
            ThreePointArc((-670.8874702454, 82.276687026), (-664.6724607915, 101.8133101312), (-652.023434639, 117.9473772645))
        make_face()
    extrude(amount=-F3_DEPTH)


with BuildPart() as f3c:
    # F2 (on Top) → F3, piece 3 (new body)
    with BuildSketch(Plane.XY):
        with BuildLine():
            Line((-619.27485466, 135.969132185), (-639.3823027611, 169.7098165751))
            Line((-639.3823027611, 169.7098165751), (-639.3823027611, 117.9473772645))
            ThreePointArc((-639.3823027611, 117.9473772645), (-627.1213180542, 101.6284990247), (-624.9378323555, 81.3339203596))
            ThreePointArc((-624.9378323555, 81.3339203596), (-611.1482840571, 97.2612962253), (-607.1584224701, 117.9473772645))
            Line((-607.1584224701, 117.9473772645), (-619.27485466, 135.969132185))
        make_face()
    extrude(amount=-F3_DEPTH)


with BuildPart() as f1_1:
    add(f1.part)

    # F4: cut F3
    add(f3.part, mode=Mode.SUBTRACT)

    # F5: cut F3c
    add(f3c.part, mode=Mode.SUBTRACT)

    # F6: cut F3b
    add(f3b.part, mode=Mode.SUBTRACT)


solid = f1_1.part
